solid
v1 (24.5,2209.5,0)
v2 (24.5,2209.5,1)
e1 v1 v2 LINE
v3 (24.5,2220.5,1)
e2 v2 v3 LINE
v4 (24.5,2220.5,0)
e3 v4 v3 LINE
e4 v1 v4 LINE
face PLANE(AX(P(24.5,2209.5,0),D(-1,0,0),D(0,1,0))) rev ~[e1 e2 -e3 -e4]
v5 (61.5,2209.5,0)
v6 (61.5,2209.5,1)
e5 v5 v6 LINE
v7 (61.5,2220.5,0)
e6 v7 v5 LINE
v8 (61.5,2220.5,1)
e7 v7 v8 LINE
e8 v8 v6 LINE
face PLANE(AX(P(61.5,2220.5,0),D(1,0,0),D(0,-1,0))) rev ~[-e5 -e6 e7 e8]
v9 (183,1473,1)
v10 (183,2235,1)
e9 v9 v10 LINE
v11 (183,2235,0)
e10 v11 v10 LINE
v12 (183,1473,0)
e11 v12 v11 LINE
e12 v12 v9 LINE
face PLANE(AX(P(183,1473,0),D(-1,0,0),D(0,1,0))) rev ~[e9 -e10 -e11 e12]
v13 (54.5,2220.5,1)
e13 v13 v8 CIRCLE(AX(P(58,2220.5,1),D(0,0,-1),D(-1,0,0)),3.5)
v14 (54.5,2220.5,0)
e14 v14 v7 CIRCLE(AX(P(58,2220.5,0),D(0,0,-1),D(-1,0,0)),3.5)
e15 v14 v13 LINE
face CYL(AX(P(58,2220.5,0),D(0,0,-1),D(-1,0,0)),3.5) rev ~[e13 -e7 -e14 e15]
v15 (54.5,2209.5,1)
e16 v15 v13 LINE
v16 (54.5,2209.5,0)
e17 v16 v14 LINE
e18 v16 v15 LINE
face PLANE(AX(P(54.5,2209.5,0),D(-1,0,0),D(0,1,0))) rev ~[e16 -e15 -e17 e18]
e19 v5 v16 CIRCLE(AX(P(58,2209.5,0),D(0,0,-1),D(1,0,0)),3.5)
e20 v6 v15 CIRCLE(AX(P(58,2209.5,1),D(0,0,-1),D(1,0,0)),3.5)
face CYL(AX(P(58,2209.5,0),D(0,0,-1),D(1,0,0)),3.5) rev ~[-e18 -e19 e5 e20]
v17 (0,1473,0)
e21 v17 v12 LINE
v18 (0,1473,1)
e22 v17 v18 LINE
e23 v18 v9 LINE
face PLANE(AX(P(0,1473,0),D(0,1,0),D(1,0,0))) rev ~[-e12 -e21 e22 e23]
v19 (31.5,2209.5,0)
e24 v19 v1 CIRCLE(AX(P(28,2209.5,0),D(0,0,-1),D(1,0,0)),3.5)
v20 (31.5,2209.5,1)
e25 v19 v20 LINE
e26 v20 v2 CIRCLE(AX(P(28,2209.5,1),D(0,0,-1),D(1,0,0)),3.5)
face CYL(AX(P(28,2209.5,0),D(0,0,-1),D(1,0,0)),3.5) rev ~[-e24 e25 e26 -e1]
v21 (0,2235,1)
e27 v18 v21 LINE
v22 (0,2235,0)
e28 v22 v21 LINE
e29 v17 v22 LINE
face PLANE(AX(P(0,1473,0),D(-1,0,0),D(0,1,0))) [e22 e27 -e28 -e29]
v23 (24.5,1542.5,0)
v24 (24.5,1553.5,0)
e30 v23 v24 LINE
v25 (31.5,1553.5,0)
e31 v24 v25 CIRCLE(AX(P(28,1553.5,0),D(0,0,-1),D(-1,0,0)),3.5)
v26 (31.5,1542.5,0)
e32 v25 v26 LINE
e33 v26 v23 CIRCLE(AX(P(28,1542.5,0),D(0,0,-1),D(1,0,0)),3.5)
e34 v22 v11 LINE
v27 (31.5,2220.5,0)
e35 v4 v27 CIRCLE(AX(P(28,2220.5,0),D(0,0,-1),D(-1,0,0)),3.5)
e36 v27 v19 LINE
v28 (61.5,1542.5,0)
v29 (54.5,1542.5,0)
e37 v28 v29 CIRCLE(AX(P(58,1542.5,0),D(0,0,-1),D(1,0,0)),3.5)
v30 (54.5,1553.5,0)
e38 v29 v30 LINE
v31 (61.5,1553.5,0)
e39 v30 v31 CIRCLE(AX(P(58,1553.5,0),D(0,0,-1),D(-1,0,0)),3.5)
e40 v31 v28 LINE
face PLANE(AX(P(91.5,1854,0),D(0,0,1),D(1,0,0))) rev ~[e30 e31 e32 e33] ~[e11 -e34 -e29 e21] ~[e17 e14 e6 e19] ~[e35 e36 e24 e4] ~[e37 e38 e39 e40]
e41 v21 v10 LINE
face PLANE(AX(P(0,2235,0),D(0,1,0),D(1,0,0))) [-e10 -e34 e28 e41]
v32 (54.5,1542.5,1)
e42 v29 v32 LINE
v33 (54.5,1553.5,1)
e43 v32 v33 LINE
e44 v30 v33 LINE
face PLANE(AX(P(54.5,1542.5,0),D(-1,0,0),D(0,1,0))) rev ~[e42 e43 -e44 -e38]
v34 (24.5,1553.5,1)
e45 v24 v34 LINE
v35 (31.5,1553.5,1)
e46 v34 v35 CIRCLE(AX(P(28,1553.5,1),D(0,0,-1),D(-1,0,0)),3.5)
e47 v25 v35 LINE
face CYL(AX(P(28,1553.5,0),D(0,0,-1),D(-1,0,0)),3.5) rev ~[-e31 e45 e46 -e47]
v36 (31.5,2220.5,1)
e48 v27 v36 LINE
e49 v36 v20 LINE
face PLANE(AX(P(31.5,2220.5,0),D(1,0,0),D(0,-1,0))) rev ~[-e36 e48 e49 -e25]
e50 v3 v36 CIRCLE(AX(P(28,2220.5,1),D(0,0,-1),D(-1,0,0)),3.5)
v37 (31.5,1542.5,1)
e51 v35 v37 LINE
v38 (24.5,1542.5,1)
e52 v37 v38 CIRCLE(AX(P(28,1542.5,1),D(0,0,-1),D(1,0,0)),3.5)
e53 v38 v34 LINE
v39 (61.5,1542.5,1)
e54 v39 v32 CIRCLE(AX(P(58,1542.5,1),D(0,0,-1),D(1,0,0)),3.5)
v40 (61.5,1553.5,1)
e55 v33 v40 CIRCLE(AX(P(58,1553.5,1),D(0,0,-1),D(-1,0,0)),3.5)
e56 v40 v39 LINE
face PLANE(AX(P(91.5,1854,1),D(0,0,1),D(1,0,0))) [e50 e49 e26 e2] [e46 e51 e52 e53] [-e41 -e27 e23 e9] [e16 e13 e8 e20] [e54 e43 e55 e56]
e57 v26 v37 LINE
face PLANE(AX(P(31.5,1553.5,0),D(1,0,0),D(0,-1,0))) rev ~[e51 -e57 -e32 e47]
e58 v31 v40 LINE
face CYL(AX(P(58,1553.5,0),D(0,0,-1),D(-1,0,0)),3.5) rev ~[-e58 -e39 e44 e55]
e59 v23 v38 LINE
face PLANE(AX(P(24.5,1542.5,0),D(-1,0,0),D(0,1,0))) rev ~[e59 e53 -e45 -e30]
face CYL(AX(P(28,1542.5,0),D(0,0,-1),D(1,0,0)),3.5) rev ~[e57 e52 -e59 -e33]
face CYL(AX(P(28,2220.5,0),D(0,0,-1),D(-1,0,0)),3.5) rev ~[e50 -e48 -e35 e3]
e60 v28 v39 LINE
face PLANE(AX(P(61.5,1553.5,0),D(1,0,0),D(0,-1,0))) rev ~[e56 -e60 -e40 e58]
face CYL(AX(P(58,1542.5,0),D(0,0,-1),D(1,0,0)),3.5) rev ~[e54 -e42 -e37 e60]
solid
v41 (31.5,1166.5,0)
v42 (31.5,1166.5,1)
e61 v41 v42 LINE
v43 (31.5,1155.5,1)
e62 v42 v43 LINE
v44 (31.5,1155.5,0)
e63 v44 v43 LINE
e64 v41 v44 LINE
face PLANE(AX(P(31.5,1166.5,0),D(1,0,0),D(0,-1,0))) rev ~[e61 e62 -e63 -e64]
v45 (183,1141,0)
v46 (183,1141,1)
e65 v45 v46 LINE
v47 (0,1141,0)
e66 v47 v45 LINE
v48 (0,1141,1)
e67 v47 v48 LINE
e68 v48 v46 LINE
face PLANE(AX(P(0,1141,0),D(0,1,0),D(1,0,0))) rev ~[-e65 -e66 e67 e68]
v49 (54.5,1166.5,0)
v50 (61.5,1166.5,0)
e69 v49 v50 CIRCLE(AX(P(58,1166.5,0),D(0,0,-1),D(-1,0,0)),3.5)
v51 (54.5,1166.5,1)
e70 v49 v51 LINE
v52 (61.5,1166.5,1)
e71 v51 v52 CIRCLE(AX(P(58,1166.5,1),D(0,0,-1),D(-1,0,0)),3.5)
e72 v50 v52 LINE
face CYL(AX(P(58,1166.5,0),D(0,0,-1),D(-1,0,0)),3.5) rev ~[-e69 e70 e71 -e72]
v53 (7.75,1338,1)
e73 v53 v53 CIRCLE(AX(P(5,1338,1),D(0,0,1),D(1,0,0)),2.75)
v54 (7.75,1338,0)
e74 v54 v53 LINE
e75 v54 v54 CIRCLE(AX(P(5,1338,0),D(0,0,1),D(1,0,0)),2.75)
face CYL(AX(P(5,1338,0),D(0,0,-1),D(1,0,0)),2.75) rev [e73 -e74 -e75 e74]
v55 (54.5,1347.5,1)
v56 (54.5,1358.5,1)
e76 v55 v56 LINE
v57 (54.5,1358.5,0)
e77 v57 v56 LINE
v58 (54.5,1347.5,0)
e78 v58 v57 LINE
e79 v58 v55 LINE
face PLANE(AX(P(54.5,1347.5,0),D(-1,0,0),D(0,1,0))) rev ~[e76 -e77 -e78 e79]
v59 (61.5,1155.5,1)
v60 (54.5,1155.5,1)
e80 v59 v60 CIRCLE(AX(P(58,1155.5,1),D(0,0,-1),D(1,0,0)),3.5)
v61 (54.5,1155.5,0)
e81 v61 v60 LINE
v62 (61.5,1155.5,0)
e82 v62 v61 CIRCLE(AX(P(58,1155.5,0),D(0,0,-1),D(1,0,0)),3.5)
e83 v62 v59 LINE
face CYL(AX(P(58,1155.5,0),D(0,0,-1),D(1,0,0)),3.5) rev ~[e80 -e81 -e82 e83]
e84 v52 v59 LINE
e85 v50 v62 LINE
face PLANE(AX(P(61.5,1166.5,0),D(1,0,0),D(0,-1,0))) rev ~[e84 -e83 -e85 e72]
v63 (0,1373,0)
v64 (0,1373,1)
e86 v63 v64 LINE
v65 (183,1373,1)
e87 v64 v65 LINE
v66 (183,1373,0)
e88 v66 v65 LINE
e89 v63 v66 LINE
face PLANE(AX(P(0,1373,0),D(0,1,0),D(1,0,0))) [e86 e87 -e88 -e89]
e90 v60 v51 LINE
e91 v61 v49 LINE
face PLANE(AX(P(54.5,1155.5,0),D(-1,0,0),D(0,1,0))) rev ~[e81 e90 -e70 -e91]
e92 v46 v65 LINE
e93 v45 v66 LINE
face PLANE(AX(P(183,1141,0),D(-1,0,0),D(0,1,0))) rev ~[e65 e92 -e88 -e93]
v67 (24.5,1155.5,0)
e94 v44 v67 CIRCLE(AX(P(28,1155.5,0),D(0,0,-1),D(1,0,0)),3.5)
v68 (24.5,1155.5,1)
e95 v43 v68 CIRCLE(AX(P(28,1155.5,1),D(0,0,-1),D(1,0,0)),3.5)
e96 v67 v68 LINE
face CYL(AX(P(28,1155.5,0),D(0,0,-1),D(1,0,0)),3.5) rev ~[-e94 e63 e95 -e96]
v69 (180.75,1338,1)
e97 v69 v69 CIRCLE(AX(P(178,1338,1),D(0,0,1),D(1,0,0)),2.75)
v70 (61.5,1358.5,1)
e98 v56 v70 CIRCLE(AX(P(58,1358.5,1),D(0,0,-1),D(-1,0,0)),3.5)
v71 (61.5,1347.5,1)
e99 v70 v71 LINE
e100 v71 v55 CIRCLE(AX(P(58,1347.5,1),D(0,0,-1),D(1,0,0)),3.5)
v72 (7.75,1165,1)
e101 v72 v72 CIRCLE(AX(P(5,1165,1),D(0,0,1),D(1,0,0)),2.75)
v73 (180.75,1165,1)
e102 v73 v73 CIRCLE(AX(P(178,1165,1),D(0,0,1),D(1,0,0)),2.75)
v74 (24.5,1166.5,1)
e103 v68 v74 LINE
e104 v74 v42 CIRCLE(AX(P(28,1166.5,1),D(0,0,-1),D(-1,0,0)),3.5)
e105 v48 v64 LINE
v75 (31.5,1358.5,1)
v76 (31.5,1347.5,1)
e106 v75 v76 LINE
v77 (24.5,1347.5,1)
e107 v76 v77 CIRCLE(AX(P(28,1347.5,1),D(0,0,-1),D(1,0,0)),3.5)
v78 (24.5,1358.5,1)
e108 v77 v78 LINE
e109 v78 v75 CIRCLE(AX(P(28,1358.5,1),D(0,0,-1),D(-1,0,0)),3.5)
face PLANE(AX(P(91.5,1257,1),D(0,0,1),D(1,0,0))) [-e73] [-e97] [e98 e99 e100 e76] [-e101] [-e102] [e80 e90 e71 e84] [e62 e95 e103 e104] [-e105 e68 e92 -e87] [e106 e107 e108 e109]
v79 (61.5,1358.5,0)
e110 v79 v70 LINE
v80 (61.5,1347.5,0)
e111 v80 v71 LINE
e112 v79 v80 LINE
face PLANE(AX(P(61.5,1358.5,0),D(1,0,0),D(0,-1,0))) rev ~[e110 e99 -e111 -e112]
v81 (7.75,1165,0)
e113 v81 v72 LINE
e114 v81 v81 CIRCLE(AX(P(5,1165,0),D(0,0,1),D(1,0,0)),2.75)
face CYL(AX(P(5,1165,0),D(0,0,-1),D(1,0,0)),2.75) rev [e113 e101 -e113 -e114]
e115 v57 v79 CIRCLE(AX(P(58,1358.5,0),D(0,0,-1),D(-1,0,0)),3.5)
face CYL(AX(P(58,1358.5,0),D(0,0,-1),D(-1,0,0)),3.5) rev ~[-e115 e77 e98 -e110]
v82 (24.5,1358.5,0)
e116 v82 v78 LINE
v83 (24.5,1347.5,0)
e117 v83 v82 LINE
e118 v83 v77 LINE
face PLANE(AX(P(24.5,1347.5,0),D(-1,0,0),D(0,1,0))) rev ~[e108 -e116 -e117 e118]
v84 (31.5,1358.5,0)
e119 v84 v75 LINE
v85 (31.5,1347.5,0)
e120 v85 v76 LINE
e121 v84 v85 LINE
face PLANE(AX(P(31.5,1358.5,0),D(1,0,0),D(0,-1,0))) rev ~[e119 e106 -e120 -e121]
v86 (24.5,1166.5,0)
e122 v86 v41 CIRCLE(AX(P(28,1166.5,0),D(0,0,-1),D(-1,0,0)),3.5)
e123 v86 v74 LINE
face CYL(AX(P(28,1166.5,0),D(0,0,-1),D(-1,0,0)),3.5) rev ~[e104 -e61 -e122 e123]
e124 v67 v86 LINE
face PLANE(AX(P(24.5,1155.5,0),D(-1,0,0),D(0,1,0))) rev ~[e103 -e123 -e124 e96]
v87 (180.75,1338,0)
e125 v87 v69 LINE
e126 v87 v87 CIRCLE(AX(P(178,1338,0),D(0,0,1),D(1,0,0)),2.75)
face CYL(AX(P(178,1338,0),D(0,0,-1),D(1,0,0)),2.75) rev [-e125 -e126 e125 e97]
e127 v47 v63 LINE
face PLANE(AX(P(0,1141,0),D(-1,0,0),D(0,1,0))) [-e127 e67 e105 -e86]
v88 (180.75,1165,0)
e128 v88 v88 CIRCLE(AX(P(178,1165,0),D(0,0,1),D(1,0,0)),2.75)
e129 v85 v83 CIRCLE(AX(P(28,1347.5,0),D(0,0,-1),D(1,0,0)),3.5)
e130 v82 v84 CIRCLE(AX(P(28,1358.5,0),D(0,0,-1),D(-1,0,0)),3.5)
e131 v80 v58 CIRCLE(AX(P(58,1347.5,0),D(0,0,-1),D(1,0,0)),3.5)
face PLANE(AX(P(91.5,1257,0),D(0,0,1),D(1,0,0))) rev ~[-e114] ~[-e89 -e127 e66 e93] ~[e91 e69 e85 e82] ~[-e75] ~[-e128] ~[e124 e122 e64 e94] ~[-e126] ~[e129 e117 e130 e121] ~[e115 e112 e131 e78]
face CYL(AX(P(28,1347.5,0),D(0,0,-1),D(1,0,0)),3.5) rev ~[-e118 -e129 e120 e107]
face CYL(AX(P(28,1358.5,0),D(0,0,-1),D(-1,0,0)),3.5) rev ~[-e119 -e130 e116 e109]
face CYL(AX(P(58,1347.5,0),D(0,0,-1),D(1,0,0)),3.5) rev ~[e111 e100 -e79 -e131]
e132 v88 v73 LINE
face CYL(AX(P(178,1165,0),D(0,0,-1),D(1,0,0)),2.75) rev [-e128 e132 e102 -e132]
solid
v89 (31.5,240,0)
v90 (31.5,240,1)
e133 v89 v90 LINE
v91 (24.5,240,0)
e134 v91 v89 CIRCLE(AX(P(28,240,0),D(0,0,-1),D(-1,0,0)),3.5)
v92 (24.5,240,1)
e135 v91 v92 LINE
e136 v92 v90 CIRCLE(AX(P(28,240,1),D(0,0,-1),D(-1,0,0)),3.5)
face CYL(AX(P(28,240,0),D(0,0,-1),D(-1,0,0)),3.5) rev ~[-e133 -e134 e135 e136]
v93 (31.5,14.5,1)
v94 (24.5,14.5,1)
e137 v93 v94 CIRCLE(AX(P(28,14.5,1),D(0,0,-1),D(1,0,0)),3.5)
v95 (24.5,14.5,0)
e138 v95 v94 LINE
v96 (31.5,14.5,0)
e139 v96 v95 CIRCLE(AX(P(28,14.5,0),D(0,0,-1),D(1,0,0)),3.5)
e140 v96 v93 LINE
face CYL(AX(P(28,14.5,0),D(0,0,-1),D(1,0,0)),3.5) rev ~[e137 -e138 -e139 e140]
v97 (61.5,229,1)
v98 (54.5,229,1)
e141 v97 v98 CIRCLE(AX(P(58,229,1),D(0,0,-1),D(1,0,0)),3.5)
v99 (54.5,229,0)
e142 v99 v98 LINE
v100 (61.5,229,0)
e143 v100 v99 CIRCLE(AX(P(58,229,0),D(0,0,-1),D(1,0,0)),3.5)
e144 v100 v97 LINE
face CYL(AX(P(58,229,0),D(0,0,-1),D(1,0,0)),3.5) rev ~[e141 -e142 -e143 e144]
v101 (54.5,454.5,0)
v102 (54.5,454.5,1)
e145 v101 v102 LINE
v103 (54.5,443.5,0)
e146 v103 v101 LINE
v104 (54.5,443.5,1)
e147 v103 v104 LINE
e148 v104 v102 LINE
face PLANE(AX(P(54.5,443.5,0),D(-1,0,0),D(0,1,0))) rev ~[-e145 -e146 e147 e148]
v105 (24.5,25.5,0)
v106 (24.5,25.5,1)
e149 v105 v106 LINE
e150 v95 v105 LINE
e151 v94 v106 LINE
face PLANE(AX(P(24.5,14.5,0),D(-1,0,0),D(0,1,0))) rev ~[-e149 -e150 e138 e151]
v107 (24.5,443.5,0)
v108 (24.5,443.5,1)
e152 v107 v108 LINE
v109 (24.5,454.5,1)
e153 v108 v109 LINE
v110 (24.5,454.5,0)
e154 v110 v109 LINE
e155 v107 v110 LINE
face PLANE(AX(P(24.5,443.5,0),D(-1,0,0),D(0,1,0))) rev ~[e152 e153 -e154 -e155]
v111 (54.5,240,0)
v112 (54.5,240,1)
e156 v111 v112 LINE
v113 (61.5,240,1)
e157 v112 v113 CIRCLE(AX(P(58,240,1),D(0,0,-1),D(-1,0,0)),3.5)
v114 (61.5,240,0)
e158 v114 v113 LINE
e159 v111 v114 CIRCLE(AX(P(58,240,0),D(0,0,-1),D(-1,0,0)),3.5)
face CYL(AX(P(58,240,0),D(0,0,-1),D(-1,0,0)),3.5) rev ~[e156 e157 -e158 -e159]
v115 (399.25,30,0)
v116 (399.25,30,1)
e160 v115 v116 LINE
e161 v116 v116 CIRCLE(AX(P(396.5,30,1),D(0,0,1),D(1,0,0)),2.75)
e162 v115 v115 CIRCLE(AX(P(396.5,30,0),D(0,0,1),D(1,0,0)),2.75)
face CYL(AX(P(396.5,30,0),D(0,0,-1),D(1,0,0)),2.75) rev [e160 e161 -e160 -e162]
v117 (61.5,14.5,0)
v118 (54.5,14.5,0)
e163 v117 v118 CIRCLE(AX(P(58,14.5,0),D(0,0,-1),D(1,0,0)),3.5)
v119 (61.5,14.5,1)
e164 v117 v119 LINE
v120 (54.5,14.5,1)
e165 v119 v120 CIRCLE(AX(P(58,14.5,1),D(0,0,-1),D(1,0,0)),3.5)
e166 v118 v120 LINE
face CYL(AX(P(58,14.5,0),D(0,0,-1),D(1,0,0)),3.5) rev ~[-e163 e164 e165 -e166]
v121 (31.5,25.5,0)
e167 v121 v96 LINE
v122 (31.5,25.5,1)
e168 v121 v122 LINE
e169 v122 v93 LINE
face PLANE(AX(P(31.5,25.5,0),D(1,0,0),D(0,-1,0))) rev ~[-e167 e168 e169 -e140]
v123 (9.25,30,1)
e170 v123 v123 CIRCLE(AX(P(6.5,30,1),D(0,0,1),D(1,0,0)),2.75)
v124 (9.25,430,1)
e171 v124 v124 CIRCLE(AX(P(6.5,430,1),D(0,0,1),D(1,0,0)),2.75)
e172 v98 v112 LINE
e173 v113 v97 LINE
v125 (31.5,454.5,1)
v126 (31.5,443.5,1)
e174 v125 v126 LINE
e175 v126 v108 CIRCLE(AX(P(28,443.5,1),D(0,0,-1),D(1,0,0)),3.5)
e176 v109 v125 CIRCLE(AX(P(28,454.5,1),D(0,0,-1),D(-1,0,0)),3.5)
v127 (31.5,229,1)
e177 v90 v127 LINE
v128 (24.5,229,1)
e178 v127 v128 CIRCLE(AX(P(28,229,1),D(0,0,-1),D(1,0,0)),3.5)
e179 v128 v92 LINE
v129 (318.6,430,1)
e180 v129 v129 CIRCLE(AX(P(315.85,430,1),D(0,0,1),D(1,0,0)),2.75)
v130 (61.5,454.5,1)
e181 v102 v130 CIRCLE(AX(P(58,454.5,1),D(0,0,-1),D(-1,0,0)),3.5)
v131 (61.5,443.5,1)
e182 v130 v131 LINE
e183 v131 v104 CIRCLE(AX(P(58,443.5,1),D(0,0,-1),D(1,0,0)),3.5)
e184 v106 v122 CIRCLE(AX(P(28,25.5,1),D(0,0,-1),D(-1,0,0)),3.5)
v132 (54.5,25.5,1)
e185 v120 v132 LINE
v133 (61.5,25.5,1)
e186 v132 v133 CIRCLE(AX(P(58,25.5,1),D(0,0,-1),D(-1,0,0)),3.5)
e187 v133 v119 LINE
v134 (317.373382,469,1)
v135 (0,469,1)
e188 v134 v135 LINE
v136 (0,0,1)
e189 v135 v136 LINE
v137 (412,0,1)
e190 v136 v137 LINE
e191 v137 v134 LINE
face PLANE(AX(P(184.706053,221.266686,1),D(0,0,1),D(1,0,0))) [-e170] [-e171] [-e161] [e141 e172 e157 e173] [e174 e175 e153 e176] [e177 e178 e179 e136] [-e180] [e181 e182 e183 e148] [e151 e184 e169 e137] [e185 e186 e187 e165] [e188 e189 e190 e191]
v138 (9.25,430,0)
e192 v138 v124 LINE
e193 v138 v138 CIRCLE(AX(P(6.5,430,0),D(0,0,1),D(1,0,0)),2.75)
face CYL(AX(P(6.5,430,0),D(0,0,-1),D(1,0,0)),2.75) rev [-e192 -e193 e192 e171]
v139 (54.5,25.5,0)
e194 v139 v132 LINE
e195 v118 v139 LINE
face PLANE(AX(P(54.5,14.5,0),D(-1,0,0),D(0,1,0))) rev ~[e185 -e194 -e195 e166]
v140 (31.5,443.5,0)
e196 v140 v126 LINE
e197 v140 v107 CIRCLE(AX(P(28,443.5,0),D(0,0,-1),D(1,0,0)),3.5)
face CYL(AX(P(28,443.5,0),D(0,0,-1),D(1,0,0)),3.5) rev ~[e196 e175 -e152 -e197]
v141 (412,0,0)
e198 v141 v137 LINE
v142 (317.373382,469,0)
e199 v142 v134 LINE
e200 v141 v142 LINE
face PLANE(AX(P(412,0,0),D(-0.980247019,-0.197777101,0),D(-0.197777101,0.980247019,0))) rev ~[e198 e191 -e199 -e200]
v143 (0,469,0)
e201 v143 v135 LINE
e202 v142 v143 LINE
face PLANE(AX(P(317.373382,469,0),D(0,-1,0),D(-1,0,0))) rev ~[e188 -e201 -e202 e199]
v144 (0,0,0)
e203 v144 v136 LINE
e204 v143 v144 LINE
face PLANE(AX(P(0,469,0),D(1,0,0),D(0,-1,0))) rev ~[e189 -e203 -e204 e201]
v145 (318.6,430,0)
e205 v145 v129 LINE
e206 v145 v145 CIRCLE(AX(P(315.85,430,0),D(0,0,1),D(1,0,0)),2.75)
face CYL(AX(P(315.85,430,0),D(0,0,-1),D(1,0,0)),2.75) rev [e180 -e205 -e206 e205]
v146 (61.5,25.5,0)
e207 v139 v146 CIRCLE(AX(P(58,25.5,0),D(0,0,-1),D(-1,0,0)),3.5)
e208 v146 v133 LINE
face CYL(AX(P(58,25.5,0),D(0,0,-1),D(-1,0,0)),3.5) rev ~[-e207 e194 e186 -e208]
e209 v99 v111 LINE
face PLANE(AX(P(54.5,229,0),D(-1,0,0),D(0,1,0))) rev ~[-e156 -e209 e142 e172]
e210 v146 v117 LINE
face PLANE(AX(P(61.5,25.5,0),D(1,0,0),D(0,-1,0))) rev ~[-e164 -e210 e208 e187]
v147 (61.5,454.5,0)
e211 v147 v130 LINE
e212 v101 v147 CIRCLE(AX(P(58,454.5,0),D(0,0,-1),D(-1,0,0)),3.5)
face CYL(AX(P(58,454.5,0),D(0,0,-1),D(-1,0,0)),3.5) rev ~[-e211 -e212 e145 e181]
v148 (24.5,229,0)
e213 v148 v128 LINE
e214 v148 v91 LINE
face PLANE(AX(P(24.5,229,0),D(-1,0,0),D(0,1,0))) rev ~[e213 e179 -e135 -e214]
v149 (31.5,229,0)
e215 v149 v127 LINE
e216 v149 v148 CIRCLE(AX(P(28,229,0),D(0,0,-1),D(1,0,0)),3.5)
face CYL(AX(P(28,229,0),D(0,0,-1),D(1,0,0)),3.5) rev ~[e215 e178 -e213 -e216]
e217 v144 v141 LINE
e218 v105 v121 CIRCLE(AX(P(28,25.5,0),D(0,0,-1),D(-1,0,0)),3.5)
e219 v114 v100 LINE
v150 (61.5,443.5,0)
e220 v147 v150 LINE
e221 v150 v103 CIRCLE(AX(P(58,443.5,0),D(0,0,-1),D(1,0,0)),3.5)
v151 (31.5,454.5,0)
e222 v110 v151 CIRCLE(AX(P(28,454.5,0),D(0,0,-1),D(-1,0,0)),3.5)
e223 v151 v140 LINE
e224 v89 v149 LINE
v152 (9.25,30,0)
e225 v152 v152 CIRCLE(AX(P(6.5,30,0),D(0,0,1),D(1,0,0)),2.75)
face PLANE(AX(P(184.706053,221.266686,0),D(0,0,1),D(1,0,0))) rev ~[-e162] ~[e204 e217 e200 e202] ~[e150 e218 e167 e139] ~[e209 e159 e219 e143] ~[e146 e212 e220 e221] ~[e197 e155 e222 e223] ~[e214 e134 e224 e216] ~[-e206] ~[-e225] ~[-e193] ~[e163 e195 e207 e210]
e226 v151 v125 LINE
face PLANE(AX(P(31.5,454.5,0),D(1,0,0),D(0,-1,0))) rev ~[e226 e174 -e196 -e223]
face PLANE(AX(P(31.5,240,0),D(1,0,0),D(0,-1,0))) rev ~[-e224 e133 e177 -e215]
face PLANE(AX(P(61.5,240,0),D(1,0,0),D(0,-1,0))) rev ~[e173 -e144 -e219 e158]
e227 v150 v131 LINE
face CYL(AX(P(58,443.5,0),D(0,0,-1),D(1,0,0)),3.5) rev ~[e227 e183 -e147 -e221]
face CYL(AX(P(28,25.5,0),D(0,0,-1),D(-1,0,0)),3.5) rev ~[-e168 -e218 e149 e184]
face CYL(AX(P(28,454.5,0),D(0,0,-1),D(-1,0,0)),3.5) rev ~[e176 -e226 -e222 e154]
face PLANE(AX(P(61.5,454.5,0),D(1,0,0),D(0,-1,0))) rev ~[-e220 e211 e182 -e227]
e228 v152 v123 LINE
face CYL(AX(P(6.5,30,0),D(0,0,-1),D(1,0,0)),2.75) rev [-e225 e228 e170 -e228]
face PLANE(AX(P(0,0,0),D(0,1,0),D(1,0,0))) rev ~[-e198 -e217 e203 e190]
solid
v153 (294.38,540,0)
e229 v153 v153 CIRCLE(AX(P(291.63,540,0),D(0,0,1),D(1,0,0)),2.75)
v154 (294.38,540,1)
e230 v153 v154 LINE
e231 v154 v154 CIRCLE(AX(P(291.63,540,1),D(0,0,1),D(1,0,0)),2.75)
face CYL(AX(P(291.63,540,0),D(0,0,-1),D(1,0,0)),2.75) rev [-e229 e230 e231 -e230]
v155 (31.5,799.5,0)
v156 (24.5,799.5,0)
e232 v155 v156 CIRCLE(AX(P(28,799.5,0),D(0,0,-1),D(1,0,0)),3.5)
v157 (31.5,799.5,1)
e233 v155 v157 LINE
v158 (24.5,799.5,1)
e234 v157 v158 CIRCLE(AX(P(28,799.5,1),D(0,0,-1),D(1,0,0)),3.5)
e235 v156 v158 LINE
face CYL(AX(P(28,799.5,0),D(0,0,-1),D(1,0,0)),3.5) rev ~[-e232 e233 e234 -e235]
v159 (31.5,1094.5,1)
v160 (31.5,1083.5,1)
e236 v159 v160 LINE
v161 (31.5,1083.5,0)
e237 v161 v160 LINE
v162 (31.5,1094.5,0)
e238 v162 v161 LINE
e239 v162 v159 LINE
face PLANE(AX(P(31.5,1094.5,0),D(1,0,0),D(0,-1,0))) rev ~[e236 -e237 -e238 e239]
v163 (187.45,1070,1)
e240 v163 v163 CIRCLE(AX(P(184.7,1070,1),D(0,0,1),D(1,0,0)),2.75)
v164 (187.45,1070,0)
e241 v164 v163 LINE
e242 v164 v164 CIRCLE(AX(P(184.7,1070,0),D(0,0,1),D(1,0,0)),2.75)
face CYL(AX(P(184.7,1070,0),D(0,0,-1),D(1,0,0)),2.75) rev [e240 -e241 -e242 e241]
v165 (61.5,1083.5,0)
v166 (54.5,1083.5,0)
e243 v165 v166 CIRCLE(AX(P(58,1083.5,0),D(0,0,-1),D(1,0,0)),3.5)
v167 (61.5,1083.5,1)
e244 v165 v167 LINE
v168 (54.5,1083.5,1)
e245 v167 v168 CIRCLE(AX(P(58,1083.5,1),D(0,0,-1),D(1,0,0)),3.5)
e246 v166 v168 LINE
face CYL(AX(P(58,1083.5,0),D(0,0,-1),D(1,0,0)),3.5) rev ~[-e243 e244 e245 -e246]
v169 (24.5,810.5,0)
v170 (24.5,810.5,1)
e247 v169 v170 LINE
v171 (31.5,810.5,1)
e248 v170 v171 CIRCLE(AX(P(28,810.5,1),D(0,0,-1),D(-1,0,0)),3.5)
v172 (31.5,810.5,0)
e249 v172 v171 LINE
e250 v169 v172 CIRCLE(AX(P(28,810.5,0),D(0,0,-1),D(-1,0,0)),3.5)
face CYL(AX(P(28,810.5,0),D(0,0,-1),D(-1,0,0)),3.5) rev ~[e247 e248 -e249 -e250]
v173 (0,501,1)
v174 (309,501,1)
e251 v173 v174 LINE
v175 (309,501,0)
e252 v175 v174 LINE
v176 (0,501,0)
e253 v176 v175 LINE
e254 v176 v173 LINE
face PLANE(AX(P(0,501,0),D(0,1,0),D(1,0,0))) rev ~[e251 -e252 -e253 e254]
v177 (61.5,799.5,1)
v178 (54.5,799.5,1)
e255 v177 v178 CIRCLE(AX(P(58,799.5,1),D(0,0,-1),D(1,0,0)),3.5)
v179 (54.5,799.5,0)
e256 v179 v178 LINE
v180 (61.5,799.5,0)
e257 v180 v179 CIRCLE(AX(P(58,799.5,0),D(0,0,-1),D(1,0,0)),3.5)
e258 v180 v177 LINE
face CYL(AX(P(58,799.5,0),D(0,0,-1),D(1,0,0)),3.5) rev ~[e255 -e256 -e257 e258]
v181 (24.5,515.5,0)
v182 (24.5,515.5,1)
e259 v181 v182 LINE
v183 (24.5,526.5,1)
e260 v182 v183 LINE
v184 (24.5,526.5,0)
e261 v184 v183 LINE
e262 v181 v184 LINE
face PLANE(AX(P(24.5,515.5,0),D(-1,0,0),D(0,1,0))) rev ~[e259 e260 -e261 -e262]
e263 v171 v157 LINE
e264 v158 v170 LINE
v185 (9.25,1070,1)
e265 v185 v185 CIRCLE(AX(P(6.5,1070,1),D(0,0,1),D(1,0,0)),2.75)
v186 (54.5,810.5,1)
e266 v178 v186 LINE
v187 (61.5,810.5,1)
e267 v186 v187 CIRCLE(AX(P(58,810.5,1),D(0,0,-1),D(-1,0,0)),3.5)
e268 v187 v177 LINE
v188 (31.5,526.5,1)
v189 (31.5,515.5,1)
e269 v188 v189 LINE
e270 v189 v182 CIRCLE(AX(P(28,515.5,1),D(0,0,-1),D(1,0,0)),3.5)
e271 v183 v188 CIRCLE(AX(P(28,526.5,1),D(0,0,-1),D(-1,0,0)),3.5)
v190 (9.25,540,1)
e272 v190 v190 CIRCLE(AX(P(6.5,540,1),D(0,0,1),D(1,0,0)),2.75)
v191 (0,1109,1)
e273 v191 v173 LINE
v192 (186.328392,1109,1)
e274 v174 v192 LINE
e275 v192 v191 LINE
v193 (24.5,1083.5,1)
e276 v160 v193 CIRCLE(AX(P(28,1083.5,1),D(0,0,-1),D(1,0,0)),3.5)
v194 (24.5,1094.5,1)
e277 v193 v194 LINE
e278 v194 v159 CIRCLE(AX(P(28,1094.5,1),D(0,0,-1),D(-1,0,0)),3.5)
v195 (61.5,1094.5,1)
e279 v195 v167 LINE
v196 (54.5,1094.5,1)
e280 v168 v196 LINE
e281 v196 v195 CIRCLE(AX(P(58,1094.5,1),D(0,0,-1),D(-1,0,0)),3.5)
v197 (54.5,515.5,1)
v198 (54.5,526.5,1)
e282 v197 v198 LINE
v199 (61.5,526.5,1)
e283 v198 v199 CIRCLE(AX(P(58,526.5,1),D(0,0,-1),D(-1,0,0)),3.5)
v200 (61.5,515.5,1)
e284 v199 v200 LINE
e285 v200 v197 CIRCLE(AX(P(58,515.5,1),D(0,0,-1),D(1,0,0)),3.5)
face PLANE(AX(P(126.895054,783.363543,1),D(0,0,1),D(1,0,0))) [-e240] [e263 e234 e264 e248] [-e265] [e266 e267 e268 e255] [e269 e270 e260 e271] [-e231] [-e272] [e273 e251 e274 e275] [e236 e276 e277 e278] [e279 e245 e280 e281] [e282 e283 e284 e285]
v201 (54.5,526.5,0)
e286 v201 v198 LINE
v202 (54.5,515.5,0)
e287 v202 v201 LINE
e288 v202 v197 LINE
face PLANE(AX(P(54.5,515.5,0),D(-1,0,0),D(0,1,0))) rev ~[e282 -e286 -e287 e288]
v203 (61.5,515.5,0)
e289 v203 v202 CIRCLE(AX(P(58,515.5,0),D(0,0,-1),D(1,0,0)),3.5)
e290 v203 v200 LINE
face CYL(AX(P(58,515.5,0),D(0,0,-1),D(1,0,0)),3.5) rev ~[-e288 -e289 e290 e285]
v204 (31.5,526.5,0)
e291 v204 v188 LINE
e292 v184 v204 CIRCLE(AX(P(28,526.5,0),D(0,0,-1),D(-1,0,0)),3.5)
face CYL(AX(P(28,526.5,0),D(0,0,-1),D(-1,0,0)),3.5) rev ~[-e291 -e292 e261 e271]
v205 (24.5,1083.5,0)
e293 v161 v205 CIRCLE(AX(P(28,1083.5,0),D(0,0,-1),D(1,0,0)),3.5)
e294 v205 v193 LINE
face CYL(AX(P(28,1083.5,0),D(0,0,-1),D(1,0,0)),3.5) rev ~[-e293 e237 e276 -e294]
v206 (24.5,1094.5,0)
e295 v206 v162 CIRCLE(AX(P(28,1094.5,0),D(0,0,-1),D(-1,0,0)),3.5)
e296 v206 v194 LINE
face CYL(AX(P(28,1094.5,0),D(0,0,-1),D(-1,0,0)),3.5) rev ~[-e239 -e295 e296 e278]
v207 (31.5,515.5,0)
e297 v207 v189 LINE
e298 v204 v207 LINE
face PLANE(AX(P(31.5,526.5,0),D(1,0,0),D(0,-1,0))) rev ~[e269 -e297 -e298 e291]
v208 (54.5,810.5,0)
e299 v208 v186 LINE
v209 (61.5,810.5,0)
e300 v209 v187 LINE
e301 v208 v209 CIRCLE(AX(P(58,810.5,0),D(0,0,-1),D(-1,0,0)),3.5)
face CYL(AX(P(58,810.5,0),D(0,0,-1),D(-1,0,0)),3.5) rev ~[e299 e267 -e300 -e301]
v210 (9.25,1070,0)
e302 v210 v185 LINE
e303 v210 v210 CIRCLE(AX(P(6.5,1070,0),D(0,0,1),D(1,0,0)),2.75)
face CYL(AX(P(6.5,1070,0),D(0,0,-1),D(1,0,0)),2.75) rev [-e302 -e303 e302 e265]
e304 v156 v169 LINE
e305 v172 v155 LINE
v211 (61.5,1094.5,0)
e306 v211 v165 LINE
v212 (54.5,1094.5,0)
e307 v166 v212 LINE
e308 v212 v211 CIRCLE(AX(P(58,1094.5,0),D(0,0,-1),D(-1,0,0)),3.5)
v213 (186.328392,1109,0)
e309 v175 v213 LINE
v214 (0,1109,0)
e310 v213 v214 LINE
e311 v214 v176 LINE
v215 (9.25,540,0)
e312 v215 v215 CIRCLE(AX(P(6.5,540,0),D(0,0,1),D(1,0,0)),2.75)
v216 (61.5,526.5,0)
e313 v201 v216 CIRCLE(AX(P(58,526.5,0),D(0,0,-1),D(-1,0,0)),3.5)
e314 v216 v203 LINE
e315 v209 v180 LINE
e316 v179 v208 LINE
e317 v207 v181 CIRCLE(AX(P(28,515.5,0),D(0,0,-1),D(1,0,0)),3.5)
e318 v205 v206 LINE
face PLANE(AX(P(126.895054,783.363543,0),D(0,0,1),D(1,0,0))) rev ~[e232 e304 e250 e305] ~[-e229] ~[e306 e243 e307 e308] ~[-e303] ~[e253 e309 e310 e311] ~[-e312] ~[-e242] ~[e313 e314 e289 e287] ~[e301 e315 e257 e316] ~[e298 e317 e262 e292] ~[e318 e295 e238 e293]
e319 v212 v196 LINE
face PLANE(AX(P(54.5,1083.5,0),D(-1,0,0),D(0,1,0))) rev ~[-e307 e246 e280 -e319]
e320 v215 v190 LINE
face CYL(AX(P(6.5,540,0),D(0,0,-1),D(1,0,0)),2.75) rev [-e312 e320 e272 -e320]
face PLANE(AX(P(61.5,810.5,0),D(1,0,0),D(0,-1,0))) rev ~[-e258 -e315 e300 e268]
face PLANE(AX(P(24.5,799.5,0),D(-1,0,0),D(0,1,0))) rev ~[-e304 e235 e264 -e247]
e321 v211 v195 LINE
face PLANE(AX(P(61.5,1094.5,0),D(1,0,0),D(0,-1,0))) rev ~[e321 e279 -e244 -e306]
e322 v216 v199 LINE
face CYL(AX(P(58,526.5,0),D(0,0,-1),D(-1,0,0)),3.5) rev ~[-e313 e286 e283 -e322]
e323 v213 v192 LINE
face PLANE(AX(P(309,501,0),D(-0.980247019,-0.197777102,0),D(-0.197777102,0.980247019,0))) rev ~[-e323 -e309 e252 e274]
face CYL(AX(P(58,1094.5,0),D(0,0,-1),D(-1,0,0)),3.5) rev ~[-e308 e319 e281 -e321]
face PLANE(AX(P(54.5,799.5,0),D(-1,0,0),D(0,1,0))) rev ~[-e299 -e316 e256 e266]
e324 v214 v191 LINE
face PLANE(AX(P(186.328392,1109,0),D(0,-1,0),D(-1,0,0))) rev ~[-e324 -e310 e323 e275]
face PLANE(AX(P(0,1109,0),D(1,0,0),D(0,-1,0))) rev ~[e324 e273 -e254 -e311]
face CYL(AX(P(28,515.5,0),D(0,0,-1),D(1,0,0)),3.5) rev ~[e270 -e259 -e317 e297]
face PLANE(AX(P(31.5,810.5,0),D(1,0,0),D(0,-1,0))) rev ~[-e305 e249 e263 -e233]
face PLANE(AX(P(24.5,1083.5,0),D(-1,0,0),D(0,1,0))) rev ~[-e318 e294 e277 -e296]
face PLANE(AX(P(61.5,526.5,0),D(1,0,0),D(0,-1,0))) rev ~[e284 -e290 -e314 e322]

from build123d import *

# Parameters (mm, degrees)
F0_R     = 2.75
F0_W     = 183
F0_H     = 232
F0_H_2   = 762
F1_DEPTH = 1


with BuildPart() as f1:
    # F0 (on Top) → F1 (new body)
    with BuildSketch(Plane.XY):
        Polygon((0, 469), (0, 0), (412, 0), (317.373382, 469), align=None)
        with Locations((6.5, 30)):
            Circle(F0_R, mode=Mode.SUBTRACT)
        with BuildLine():
            Line((31.5, 25.5), (31.5, 14.5))
            ThreePointArc((31.5, 14.5), (28, 11), (24.5, 14.5))
            Line((24.5, 14.5), (24.5, 25.5))
            ThreePointArc((24.5, 25.5), (28, 29), (31.5, 25.5))
        make_face(mode=Mode.SUBTRACT)
        with BuildLine():
            Line((31.5, 240), (31.5, 229))
            ThreePointArc((31.5, 229), (28, 225.5), (24.5, 229))
            Line((24.5, 229), (24.5, 240))
            ThreePointArc((24.5, 240), (28, 243.5), (31.5, 240))
        make_face(mode=Mode.SUBTRACT)
        with BuildLine():
            Line((61.5, 25.5), (61.5, 14.5))
            ThreePointArc((61.5, 14.5), (58, 11), (54.5, 14.5))
            Line((54.5, 14.5), (54.5, 25.5))
            ThreePointArc((54.5, 25.5), (58, 29), (61.5, 25.5))
        make_face(mode=Mode.SUBTRACT)
        with BuildLine():
            Line((61.5, 240), (61.5, 229))
            ThreePointArc((61.5, 229), (58, 225.5), (54.5, 229))
            Line((54.5, 229), (54.5, 240))
            ThreePointArc((54.5, 240), (58, 243.5), (61.5, 240))
        make_face(mode=Mode.SUBTRACT)
        with Locations((6.5, 430)):
            Circle(F0_R, mode=Mode.SUBTRACT)
        with BuildLine():
            Line((31.5, 454.5), (31.5, 443.5))
            ThreePointArc((31.5, 443.5), (28, 440), (24.5, 443.5))
            Line((24.5, 443.5), (24.5, 454.5))
            ThreePointArc((24.5, 454.5), (28, 458), (31.5, 454.5))
        make_face(mode=Mode.SUBTRACT)
        with BuildLine():
            Line((61.5, 454.5), (61.5, 443.5))
            ThreePointArc((61.5, 443.5), (58, 440), (54.5, 443.5))
            Line((54.5, 443.5), (54.5, 454.5))
            ThreePointArc((54.5, 454.5), (58, 458), (61.5, 454.5))
        make_face(mode=Mode.SUBTRACT)
        with Locations((396.5, 30)):
            Circle(F0_R, mode=Mode.SUBTRACT)
        with Locations((315.85, 430)):
            Circle(F0_R, mode=Mode.SUBTRACT)
        Polygon((0, 1109), (0, 501), (309, 501), (186.328392, 1109), align=None)
        with Locations((6.5, 540)):
            Circle(F0_R, mode=Mode.SUBTRACT)
        with BuildLine():
            Line((31.5, 526.5), (31.5, 515.5))
            ThreePointArc((31.5, 515.5), (28, 512), (24.5, 515.5))
            Line((24.5, 515.5), (24.5, 526.5))
            ThreePointArc((24.5, 526.5), (28, 530), (31.5, 526.5))
        make_face(mode=Mode.SUBTRACT)
        with BuildLine():
            Line((61.5, 526.5), (61.5, 515.5))
            ThreePointArc((61.5, 515.5), (58, 512), (54.5, 515.5))
            Line((54.5, 515.5), (54.5, 526.5))
            ThreePointArc((54.5, 526.5), (58, 530), (61.5, 526.5))
        make_face(mode=Mode.SUBTRACT)
        with BuildLine():
            Line((31.5, 810.5), (31.5, 799.5))
            ThreePointArc((31.5, 799.5), (28, 796), (24.5, 799.5))
            Line((24.5, 799.5), (24.5, 810.5))
            ThreePointArc((24.5, 810.5), (28, 814), (31.5, 810.5))
        make_face(mode=Mode.SUBTRACT)
        with BuildLine():
            Line((61.5, 810.5), (61.5, 799.5))
            ThreePointArc((61.5, 799.5), (58, 796), (54.5, 799.5))
            Line((54.5, 799.5), (54.5, 810.5))
            ThreePointArc((54.5, 810.5), (58, 814), (61.5, 810.5))
        make_face(mode=Mode.SUBTRACT)
        with Locations((6.5, 1070)):
            Circle(F0_R, mode=Mode.SUBTRACT)
        with BuildLine():
            Line((31.5, 1094.5), (31.5, 1083.5))
            ThreePointArc((31.5, 1083.5), (28, 1080), (24.5, 1083.5))
            Line((24.5, 1083.5), (24.5, 1094.5))
            ThreePointArc((24.5, 1094.5), (28, 1098), (31.5, 1094.5))
        make_face(mode=Mode.SUBTRACT)
        with BuildLine():
            Line((61.5, 1094.5), (61.5, 1083.5))
            ThreePointArc((61.5, 1083.5), (58, 1080), (54.5, 1083.5))
            Line((54.5, 1083.5), (54.5, 1094.5))
            ThreePointArc((54.5, 1094.5), (58, 1098), (61.5, 1094.5))
        make_face(mode=Mode.SUBTRACT)
        with Locations((184.7, 1070)):
            Circle(F0_R, mode=Mode.SUBTRACT)
        with Locations((291.63, 540)):
            Circle(F0_R, mode=Mode.SUBTRACT)
        with Locations((91.5, 1257)):
            Rectangle(F0_W, F0_H)
        with Locations((5, 1165)):
            Circle(F0_R, mode=Mode.SUBTRACT)
        with BuildLine():
            Line((31.5, 1166.5), (31.5, 1155.5))
            ThreePointArc((31.5, 1155.5), (28, 1152), (24.5, 1155.5))
            Line((24.5, 1155.5), (24.5, 1166.5))
            ThreePointArc((24.5, 1166.5), (28, 1170), (31.5, 1166.5))
        make_face(mode=Mode.SUBTRACT)
        with Locations((5, 1338)):
            Circle(F0_R, mode=Mode.SUBTRACT)
        with BuildLine():
            Line((31.5, 1358.5), (31.5, 1347.5))
            ThreePointArc((31.5, 1347.5), (28, 1344), (24.5, 1347.5))
            Line((24.5, 1347.5), (24.5, 1358.5))
            ThreePointArc((24.5, 1358.5), (28, 1362), (31.5, 1358.5))
        make_face(mode=Mode.SUBTRACT)
        with BuildLine():
            Line((61.5, 1166.5), (61.5, 1155.5))
            ThreePointArc((61.5, 1155.5), (58, 1152), (54.5, 1155.5))
            Line((54.5, 1155.5), (54.5, 1166.5))
            ThreePointArc((54.5, 1166.5), (58, 1170), (61.5, 1166.5))
        make_face(mode=Mode.SUBTRACT)
        with BuildLine():
            Line((61.5, 1358.5), (61.5, 1347.5))
            ThreePointArc((61.5, 1347.5), (58, 1344), (54.5, 1347.5))
            Line((54.5, 1347.5), (54.5, 1358.5))
            ThreePointArc((54.5, 1358.5), (58, 1362), (61.5, 1358.5))
        make_face(mode=Mode.SUBTRACT)
        with Locations((178, 1165)):
            Circle(F0_R, mode=Mode.SUBTRACT)
        with Locations((178, 1338)):
            Circle(F0_R, mode=Mode.SUBTRACT)
        with Locations((91.5, 1854)):
            Rectangle(F0_W, F0_H_2)
        with BuildLine():
            Line((31.5, 1553.5), (31.5, 1542.5))
            ThreePointArc((31.5, 1542.5), (28, 1539), (24.5, 1542.5))
            Line((24.5, 1542.5), (24.5, 1553.5))
            ThreePointArc((24.5, 1553.5), (28, 1557), (31.5, 1553.5))
        make_face(mode=Mode.SUBTRACT)
        with BuildLine():
            Line((61.5, 1553.5), (61.5, 1542.5))
            ThreePointArc((61.5, 1542.5), (58, 1539), (54.5, 1542.5))
            Line((54.5, 1542.5), (54.5, 1553.5))
            ThreePointArc((54.5, 1553.5), (58, 1557), (61.5, 1553.5))
        make_face(mode=Mode.SUBTRACT)
        with BuildLine():
            Line((31.5, 2220.5), (31.5, 2209.5))
            ThreePointArc((31.5, 2209.5), (28, 2206), (24.5, 2209.5))
            Line((24.5, 2209.5), (24.5, 2220.5))
            ThreePointArc((24.5, 2220.5), (28, 2224), (31.5, 2220.5))
        make_face(mode=Mode.SUBTRACT)
        with BuildLine():
            Line((61.5, 2220.5), (61.5, 2209.5))
            ThreePointArc((61.5, 2209.5), (58, 2206), (54.5, 2209.5))
            Line((54.5, 2209.5), (54.5, 2220.5))
            ThreePointArc((54.5, 2220.5), (58, 2224), (61.5, 2220.5))
        make_face(mode=Mode.SUBTRACT)
    extrude(amount=F1_DEPTH)


solid = f1.part
